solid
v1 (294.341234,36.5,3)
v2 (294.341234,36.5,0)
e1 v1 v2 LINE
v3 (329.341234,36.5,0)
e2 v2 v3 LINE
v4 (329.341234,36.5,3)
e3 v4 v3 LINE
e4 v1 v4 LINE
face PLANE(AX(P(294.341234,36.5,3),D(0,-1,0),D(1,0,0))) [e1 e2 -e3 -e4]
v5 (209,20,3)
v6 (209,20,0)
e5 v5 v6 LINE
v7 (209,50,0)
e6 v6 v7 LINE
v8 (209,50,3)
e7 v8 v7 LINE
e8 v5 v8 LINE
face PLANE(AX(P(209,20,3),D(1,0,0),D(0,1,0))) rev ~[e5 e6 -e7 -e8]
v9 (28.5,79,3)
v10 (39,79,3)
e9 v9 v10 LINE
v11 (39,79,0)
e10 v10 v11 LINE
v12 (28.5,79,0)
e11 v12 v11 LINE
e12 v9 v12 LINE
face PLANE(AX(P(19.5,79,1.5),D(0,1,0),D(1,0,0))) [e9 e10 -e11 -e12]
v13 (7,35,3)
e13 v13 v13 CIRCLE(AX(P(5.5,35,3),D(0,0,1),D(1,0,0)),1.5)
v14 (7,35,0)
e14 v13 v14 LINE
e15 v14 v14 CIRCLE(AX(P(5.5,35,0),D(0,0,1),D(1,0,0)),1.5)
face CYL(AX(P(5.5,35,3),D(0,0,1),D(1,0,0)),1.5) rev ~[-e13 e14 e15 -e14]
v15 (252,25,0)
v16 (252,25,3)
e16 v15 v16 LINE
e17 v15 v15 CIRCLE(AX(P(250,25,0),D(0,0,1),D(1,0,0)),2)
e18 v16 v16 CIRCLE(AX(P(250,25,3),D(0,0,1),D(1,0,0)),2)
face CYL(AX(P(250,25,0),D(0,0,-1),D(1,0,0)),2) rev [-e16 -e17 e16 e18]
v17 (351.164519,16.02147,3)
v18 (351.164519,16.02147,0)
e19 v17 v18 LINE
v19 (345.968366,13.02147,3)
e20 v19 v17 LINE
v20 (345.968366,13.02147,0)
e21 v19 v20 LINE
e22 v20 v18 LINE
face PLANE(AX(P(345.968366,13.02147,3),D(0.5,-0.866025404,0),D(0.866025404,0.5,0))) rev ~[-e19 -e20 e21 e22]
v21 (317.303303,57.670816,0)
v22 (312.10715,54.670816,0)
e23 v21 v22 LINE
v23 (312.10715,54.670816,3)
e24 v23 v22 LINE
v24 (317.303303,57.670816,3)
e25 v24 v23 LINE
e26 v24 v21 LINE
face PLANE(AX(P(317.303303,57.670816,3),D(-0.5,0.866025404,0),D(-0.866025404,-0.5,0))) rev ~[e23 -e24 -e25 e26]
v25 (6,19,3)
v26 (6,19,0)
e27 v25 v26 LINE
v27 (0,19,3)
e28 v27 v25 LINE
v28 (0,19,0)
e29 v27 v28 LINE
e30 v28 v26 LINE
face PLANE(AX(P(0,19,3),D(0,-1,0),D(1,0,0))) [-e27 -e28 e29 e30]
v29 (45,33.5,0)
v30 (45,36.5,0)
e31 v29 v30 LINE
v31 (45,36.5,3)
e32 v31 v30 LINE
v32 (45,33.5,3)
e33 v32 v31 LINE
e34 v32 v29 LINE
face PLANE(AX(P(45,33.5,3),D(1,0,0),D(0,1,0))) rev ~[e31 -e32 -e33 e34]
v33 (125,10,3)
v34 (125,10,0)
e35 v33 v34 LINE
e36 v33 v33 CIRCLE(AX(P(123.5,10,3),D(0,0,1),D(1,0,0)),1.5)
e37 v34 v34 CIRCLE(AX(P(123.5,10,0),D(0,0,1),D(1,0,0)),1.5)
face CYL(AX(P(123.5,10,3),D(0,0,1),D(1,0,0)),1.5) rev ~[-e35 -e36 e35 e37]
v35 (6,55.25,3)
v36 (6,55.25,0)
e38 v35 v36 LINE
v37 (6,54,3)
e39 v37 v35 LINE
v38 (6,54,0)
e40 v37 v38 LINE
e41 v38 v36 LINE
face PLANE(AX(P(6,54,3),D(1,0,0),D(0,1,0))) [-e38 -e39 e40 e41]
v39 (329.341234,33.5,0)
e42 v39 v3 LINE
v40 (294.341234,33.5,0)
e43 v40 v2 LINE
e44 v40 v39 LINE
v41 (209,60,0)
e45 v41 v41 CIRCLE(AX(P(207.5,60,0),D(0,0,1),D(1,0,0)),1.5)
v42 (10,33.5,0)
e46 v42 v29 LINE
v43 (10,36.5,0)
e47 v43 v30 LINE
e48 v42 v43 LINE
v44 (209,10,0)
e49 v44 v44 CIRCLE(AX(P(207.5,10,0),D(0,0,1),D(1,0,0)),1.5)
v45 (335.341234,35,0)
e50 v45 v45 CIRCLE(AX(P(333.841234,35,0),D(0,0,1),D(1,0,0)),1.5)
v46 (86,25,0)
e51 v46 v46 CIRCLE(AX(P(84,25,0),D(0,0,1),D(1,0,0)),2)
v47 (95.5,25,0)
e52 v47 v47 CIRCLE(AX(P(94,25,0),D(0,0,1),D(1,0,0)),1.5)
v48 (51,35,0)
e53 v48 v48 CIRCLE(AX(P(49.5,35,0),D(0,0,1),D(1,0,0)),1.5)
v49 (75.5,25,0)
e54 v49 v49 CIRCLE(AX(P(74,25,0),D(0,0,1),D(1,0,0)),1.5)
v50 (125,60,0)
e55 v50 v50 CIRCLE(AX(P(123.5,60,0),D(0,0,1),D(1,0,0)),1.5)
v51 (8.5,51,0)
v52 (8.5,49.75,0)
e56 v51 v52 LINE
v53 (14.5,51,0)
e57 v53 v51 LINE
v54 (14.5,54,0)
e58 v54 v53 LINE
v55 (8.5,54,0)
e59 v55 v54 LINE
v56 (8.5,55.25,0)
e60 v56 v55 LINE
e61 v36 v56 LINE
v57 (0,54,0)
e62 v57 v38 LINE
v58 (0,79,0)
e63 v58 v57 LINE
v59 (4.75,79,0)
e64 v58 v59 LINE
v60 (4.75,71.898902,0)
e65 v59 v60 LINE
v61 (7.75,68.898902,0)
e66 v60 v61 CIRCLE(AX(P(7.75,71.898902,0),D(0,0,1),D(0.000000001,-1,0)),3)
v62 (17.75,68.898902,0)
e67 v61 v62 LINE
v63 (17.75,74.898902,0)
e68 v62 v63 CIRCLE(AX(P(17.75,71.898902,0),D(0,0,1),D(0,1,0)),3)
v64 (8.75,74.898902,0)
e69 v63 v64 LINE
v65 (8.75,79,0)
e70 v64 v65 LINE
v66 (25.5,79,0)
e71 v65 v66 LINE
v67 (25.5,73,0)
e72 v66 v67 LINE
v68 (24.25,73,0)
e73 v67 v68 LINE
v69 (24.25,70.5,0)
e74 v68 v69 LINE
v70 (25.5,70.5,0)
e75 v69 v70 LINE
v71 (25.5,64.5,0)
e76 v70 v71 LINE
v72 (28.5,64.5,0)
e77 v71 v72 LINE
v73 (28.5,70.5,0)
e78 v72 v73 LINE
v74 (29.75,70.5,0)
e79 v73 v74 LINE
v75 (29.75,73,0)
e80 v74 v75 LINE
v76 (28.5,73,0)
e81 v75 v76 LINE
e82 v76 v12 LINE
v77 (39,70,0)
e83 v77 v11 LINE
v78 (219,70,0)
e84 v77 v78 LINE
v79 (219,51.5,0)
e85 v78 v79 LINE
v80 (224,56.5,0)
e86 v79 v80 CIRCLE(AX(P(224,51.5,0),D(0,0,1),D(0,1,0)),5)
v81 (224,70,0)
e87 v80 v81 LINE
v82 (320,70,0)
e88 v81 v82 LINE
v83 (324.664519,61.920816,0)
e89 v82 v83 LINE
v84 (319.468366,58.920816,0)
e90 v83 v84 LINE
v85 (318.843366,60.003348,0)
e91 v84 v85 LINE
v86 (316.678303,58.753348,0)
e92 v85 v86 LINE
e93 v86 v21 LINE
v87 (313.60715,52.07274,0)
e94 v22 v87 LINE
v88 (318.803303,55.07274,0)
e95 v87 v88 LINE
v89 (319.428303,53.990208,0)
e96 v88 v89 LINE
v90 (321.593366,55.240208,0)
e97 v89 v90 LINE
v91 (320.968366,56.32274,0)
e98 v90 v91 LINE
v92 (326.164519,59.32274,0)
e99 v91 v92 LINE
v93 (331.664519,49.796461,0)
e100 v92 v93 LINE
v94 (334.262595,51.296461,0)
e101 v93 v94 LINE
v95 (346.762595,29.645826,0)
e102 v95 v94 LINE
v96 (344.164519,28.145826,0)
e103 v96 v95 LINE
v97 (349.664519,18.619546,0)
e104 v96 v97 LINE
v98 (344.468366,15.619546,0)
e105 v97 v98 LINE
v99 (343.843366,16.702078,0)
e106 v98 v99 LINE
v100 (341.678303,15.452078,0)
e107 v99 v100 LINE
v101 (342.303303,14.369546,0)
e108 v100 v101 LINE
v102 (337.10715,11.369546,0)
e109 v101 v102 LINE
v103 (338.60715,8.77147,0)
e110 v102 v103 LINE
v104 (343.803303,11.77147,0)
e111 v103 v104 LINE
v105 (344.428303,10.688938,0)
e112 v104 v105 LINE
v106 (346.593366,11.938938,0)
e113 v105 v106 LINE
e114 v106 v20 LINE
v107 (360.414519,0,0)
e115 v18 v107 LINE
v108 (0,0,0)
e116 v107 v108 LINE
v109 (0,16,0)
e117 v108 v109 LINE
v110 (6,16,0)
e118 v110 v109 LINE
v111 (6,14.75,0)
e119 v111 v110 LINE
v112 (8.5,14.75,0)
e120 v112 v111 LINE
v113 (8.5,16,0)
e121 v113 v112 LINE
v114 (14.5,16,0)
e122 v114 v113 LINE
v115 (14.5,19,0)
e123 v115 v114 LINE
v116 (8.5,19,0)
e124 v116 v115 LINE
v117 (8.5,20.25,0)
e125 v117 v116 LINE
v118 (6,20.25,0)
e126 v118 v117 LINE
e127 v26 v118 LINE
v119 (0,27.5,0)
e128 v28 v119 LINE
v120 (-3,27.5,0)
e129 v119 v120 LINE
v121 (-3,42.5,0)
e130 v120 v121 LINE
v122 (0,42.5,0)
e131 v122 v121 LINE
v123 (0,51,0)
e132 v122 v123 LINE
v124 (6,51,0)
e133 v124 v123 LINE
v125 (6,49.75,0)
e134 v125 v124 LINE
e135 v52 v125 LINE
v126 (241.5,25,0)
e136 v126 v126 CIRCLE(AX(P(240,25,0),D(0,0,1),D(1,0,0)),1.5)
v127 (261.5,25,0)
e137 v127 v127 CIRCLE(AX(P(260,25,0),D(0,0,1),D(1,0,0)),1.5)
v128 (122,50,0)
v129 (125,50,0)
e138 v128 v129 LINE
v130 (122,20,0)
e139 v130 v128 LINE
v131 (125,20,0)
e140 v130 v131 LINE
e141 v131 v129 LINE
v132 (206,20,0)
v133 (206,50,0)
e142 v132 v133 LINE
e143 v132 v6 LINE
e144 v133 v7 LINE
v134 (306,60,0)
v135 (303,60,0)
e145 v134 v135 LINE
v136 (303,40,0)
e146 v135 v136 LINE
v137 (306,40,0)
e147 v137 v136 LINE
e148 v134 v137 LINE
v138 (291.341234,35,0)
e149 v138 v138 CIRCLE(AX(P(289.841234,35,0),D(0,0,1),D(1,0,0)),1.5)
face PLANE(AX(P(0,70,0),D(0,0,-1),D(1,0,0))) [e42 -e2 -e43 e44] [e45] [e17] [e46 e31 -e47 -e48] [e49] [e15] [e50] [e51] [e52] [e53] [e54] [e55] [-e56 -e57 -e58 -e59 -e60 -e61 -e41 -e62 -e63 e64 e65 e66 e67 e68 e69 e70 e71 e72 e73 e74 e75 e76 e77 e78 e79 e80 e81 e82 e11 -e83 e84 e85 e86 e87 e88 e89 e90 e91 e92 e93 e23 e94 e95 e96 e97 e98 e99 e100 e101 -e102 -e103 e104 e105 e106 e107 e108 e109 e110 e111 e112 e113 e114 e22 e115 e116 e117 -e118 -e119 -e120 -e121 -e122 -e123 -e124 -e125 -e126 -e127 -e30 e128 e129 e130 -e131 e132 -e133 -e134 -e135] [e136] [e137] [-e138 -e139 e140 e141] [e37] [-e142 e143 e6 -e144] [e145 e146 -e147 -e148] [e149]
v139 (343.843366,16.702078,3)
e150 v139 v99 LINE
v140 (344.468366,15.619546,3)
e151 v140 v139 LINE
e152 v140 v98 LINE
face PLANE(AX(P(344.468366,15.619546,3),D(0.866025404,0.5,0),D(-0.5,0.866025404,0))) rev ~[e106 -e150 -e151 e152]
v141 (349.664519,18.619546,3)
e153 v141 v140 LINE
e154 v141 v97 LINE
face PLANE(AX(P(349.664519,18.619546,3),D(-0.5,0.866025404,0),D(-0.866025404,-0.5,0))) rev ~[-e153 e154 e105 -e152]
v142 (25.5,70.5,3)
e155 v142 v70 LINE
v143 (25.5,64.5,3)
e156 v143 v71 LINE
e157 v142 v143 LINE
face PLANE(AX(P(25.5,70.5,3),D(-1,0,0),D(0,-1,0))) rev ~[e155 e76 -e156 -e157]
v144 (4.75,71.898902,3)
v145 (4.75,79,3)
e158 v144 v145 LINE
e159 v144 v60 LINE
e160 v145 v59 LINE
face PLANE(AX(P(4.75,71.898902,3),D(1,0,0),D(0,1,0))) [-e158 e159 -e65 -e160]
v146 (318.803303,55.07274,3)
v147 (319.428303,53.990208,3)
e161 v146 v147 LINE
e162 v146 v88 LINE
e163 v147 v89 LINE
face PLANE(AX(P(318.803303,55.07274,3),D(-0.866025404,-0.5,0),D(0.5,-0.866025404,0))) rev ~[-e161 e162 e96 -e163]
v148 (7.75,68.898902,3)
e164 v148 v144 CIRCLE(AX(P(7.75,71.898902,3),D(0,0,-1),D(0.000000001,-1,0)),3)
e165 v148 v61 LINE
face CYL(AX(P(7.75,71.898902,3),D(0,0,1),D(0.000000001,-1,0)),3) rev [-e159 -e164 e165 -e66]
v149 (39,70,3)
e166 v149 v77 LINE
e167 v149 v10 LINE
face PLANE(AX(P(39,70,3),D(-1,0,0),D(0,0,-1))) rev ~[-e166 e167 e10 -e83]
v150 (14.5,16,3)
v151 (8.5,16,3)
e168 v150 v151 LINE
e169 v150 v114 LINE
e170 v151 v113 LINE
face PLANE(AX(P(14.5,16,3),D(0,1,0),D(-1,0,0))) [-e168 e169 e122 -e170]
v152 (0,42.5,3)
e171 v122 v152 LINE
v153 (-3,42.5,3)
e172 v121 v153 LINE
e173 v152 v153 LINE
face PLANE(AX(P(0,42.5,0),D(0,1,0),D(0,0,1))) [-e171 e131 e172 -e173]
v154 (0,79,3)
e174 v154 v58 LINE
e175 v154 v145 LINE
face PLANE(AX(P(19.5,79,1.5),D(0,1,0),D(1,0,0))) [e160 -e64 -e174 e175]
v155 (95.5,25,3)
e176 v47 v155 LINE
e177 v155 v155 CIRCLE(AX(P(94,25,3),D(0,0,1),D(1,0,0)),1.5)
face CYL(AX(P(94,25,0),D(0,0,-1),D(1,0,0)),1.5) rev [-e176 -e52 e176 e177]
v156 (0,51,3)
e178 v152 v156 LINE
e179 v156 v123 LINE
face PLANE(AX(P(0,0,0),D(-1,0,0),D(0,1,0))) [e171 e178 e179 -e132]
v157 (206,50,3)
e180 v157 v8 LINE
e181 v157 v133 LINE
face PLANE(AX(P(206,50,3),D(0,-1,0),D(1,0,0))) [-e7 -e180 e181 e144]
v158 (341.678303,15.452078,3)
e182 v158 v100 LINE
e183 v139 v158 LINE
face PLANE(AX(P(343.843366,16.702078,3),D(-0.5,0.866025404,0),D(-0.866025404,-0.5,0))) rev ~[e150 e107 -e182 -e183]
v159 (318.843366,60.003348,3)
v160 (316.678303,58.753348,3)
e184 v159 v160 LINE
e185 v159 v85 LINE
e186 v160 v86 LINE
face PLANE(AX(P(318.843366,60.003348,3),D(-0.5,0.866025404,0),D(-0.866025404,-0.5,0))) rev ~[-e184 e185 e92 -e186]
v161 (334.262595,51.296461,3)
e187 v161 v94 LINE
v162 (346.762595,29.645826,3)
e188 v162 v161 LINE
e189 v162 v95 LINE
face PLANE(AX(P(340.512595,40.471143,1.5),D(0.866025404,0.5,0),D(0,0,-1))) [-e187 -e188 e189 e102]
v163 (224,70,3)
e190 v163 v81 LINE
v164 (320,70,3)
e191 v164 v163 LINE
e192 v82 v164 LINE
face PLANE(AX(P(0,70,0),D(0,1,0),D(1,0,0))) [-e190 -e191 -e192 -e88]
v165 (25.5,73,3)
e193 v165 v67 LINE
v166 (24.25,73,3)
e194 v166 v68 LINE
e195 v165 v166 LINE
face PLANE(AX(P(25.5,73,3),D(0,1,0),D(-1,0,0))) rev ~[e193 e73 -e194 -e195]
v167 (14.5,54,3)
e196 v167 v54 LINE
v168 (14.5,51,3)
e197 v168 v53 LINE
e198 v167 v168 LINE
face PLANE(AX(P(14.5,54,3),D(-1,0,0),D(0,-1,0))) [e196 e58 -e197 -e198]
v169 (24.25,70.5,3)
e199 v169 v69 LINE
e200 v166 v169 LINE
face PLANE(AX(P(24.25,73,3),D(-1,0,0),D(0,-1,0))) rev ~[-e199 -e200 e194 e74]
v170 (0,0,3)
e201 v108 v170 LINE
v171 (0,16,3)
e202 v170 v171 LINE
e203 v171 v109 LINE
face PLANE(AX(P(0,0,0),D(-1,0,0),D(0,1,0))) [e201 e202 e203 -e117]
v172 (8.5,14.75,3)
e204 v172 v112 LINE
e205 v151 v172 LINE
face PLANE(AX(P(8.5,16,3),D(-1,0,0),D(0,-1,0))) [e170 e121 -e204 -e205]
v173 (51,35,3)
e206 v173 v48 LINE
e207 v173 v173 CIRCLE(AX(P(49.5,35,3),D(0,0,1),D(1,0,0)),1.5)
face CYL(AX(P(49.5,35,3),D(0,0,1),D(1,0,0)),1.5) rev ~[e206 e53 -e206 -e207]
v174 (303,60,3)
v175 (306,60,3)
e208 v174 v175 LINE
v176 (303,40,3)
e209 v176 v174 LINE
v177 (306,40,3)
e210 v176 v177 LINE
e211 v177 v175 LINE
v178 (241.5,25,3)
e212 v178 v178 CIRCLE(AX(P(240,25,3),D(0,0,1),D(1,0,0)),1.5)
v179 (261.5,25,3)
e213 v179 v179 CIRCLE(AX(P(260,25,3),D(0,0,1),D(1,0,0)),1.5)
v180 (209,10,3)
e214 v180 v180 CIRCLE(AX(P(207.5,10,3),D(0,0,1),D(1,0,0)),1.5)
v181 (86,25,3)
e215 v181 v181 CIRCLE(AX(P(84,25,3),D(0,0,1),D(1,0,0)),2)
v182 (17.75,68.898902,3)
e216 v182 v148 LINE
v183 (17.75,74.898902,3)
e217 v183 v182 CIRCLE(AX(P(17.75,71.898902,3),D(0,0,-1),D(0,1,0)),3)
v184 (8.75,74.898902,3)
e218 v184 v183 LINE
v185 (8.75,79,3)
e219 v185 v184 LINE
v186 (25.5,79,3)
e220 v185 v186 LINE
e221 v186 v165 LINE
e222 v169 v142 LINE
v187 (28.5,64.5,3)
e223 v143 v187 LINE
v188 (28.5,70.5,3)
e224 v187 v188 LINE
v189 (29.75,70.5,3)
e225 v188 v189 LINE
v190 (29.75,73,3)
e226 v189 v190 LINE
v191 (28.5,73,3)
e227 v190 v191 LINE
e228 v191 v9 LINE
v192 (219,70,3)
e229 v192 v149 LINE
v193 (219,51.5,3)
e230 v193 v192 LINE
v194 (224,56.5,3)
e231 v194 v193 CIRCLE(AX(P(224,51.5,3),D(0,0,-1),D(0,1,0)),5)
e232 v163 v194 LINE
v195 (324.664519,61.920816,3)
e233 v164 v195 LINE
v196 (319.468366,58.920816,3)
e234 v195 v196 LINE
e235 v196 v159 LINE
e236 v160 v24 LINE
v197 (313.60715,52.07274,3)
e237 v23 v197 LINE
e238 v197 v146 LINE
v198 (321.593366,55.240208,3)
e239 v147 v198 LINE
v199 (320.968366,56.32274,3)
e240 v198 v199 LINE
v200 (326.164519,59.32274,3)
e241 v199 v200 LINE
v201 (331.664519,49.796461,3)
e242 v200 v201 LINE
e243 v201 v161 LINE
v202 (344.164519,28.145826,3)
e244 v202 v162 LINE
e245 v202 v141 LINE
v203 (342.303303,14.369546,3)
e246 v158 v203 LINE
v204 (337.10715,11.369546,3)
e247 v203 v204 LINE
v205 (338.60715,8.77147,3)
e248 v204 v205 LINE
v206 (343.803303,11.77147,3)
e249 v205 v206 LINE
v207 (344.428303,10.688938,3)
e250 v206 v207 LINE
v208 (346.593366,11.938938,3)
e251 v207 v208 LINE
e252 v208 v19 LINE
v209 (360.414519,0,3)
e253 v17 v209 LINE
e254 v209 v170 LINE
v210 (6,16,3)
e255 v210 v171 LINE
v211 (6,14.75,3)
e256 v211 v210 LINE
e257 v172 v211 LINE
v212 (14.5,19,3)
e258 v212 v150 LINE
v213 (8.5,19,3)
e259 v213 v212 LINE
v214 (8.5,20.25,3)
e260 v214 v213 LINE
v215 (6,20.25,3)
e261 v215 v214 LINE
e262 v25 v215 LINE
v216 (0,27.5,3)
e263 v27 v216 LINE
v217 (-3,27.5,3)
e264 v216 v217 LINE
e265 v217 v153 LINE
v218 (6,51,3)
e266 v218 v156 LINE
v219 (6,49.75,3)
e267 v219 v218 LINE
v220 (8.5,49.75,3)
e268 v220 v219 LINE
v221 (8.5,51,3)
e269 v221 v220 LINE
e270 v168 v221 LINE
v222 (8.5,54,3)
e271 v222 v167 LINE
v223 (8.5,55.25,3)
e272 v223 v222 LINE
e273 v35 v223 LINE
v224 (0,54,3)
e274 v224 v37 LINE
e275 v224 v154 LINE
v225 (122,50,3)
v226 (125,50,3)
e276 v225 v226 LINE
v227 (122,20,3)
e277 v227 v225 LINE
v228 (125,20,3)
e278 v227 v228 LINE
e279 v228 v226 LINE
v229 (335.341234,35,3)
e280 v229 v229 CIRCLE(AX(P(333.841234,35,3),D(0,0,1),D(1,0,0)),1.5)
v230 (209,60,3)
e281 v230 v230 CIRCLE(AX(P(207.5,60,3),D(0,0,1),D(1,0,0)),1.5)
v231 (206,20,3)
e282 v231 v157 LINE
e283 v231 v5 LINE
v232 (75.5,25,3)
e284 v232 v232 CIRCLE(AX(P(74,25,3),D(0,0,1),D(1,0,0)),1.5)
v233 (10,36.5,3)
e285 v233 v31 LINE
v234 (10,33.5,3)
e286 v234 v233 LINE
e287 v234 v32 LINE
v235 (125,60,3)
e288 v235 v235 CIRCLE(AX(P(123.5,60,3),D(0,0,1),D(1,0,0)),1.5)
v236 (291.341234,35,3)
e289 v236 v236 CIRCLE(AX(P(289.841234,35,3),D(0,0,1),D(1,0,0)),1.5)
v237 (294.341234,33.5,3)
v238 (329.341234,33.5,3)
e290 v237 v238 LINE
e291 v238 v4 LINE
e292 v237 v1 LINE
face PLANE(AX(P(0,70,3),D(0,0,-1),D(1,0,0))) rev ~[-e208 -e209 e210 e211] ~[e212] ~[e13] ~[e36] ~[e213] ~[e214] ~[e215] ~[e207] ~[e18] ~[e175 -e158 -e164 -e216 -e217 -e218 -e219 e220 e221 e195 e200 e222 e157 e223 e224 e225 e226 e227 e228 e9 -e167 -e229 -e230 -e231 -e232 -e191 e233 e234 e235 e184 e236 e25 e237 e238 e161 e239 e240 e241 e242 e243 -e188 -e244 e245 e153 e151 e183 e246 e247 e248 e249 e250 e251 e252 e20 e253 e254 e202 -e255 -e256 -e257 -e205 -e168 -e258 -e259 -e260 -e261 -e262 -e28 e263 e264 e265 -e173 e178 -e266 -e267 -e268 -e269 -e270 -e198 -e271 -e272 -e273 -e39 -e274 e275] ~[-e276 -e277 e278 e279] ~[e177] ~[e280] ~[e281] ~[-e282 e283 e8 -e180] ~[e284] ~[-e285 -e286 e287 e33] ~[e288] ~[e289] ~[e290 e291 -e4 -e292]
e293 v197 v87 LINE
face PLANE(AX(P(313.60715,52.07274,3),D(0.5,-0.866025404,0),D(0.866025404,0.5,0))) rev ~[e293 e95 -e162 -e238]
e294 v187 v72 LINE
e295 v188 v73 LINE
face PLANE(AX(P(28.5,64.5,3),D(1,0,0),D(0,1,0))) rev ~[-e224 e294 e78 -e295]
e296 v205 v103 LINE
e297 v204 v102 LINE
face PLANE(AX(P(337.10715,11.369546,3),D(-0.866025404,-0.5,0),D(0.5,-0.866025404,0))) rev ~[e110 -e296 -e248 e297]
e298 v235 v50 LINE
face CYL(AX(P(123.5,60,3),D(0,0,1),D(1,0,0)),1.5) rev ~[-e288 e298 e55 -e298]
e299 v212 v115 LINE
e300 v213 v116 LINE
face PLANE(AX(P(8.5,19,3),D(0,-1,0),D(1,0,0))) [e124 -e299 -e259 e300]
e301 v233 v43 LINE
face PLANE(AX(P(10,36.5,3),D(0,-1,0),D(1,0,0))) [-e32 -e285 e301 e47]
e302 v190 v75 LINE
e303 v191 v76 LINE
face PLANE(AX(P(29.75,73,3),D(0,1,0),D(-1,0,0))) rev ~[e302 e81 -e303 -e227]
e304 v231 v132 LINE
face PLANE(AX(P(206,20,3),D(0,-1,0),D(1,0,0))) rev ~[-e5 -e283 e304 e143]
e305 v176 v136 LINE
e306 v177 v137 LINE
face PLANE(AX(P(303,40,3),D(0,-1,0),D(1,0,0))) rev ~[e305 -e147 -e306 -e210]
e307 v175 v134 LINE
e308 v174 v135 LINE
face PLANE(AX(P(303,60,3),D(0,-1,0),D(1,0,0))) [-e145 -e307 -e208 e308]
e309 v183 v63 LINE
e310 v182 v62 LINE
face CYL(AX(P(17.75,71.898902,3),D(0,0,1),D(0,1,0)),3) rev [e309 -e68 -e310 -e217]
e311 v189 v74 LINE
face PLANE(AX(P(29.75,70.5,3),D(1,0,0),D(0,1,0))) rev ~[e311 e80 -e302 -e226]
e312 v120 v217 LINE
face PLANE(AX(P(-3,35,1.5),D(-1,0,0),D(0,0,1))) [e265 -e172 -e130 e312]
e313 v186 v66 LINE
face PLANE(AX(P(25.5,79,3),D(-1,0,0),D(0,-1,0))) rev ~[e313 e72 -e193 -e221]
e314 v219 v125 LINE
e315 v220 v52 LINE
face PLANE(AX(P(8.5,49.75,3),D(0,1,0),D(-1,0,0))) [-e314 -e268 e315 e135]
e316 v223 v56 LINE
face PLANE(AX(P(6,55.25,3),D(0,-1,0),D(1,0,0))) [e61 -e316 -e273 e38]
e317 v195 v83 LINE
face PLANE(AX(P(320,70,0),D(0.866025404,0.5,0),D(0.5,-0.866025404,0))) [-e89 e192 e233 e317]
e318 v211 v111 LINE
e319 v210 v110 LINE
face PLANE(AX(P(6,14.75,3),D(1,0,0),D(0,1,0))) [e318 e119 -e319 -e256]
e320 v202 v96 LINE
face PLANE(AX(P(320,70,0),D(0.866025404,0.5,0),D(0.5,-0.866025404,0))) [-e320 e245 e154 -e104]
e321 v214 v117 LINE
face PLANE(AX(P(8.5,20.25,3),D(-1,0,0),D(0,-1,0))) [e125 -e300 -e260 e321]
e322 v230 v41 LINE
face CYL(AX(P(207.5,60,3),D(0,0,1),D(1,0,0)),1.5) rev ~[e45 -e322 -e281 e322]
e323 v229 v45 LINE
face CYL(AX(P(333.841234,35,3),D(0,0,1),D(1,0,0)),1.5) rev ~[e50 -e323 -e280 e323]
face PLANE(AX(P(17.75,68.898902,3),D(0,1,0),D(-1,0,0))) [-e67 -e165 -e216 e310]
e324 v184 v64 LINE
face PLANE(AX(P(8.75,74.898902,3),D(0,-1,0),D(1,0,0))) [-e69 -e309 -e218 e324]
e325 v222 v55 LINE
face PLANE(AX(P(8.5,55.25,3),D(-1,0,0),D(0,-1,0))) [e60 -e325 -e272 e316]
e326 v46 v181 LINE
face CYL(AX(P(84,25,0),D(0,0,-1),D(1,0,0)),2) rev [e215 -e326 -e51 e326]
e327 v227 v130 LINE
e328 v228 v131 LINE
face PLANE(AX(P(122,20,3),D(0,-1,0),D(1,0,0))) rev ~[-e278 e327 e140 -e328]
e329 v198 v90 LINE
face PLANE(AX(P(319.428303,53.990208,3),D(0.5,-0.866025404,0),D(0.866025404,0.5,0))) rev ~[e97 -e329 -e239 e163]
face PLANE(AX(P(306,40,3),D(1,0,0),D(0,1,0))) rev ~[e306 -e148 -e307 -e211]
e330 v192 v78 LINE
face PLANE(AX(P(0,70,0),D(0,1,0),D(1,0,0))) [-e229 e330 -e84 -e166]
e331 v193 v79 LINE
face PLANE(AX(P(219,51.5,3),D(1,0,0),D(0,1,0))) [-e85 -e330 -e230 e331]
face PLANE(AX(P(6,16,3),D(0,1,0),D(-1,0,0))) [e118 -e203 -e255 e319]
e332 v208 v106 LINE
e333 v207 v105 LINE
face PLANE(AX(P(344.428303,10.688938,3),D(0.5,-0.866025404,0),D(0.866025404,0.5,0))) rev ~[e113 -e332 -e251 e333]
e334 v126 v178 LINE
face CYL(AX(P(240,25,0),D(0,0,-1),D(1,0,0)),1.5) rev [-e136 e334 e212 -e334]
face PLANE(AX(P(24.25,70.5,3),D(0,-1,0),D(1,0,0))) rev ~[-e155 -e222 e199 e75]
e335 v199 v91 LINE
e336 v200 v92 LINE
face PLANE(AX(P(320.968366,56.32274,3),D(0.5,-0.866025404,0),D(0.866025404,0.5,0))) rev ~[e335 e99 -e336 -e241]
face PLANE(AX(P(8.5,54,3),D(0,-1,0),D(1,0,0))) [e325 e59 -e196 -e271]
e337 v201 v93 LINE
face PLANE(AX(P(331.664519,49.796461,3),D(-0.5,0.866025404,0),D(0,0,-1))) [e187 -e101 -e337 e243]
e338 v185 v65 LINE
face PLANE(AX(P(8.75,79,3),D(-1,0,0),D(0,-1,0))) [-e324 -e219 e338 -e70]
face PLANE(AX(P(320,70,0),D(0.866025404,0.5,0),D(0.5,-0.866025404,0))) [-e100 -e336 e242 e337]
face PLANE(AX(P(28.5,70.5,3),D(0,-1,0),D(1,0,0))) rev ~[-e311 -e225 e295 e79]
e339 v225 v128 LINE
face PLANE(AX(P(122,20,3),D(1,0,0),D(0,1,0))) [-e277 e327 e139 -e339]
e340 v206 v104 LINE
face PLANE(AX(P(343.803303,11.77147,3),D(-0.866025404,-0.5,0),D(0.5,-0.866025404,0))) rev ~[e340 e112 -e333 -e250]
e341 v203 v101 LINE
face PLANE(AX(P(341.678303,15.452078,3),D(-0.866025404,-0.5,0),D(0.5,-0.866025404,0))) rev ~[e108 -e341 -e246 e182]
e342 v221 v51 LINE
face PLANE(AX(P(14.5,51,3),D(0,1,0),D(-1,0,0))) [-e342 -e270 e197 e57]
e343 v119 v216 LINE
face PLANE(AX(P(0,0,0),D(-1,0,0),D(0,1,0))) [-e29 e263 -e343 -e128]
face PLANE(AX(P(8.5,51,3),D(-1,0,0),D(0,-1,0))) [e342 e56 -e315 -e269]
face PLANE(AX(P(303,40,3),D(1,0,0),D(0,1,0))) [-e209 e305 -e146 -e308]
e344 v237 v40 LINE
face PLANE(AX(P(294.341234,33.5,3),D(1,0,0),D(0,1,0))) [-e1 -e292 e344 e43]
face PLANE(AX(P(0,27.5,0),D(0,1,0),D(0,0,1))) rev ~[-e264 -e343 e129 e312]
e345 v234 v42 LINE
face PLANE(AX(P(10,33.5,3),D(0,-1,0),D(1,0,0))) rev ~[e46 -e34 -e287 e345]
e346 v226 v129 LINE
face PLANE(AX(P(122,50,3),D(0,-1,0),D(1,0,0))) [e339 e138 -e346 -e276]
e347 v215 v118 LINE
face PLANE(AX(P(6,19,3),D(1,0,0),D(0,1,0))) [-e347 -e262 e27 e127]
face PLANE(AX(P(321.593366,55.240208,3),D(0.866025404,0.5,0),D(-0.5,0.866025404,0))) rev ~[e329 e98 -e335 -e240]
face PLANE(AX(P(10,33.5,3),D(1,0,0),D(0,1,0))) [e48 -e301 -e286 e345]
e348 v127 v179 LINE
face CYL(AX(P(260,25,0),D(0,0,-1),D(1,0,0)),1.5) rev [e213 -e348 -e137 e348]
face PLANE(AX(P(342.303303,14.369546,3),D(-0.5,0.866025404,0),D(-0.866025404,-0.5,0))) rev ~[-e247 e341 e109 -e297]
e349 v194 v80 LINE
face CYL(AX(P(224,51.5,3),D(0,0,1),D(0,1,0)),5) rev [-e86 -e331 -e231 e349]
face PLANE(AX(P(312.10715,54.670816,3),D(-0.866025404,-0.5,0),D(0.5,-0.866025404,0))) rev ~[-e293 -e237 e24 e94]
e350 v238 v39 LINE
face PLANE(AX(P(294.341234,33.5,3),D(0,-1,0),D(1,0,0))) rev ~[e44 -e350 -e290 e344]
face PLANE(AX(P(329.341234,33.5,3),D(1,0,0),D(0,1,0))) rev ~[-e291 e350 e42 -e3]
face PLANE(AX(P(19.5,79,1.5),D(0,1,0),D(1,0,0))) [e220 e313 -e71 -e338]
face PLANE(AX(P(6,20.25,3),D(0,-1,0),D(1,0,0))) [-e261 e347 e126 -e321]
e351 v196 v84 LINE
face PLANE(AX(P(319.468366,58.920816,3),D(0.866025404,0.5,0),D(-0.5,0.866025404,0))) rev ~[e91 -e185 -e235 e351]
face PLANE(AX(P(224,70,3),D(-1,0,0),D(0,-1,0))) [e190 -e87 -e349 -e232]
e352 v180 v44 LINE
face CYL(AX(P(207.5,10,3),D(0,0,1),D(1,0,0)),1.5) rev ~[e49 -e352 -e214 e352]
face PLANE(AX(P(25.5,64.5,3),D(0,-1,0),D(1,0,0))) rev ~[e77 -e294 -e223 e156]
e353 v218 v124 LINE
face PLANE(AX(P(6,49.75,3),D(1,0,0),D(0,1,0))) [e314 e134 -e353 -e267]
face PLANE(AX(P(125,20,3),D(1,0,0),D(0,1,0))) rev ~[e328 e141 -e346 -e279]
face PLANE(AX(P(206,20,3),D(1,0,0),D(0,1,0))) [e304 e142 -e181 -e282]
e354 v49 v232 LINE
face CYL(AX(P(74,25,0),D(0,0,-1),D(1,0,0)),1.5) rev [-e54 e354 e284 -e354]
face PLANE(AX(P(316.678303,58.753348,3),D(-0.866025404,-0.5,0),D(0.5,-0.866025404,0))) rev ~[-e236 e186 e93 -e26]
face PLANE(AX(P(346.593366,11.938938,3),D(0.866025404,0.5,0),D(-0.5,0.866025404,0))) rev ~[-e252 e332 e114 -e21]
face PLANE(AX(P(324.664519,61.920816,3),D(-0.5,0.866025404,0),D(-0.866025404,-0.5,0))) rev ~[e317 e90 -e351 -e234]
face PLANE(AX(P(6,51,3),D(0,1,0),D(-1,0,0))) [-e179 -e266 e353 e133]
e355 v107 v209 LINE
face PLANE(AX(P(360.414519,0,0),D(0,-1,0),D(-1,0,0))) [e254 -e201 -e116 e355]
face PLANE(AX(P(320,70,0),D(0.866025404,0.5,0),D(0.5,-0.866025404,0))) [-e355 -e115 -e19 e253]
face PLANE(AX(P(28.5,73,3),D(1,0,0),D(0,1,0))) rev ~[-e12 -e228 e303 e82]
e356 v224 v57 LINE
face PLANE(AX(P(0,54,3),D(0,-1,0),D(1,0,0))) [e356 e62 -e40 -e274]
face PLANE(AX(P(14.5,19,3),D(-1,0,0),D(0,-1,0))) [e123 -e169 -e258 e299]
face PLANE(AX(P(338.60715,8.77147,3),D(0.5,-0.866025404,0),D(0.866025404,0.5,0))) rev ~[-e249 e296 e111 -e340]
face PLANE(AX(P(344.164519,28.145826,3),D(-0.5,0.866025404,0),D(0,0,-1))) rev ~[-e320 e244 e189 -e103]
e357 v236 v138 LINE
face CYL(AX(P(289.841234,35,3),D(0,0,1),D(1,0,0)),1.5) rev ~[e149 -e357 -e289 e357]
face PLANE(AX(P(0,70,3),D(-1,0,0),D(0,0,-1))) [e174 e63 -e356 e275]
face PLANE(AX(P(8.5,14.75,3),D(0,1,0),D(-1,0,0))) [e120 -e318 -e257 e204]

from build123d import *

# Parameters (mm, degrees)
SKETCH_1_R             = 2
SKETCH_1_R_2           = 1.5
EXTRUDE_1_DEPTH        = 3
SKETCH_2_W             = 19
SKETCH_2_H             = 3
EXTRUDE_2_DEPTH        = 3
PATTERN_LINEAR_1_COUNT = 9
PATTERN_LINEAR_1_PITCH = 28
SKETCH_3_W             = 3
SKETCH_3_H             = 30
CUT_EXTRUDE_1_DEPTH    = 3
SKETCH_4_W             = 35
SKETCH_4_H             = 3
CUT_EXTRUDE_2_DEPTH    = 3
SKETCH_5_R             = 1.5
CUT_EXTRUDE_3_DEPTH    = 3
CUT_EXTRUDE_4_DEPTH    = 3
CUT_EXTRUDE_5_DEPTH    = 3
SKETCH_8_W             = 39
SKETCH_8_H             = 3
EXTRUDE_3_DEPTH        = 9
SKETCH_11_W            = 3
SKETCH_11_H            = 25
EXTRUDE_5_DEPTH        = 3
SKETCH_12_W            = 3
SKETCH_12_H            = 15
EXTRUDE_6_DEPTH        = 3
SKETCH_13_W            = 243
SKETCH_13_H            = 3
CUT_EXTRUDE_7_DEPTH    = 3
SKETCH_14_W            = 3
SKETCH_14_H            = 20
CUT_EXTRUDE_8_DEPTH    = 10
CUT_EXTRUDE_9_DEPTH    = 3
CUT_EXTRUDE_10_DEPTH   = 10
CUT_EXTRUDE_11_DEPTH   = 10


with BuildPart() as part:
    # Эскиз1 → Бобышка-Вытянуть1 (new body)
    with BuildSketch(Plane.XY):
        Polygon((320, 70), (360.414518843, 0), (0, 0), (0, 70), align=None)
        with Locations((84, 25)):
            Circle(SKETCH_1_R, mode=Mode.SUBTRACT)
        with Locations((250, 25)):
            Circle(SKETCH_1_R, mode=Mode.SUBTRACT)
        with Locations((94, 25)):
            Circle(SKETCH_1_R_2, mode=Mode.SUBTRACT)
        with Locations((74, 25)):
            Circle(SKETCH_1_R_2, mode=Mode.SUBTRACT)
        with Locations((240, 25)):
            Circle(SKETCH_1_R_2, mode=Mode.SUBTRACT)
        with Locations((260, 25)):
            Circle(SKETCH_1_R_2, mode=Mode.SUBTRACT)
    extrude(amount=EXTRUDE_1_DEPTH)

    # Эскиз2 → Бобышка-Вытянуть2 (add)
    with BuildSketch(Plane(origin=(0, 70, 0), x_dir=(1, 0, 0), z_dir=(0, 1, 0))):
        with Locations((291.5, -1.5)):
            Rectangle(SKETCH_2_W, SKETCH_2_H)
    extrude_2 = extrude(amount=EXTRUDE_2_DEPTH)

    # Линейный массив1: Бобышка-Вытянуть2 ×9
    with Locations(*[(-i * PATTERN_LINEAR_1_PITCH, 0, 0) for i in range(1, PATTERN_LINEAR_1_COUNT)]):
        add(extrude_2)

    # Эскиз3 → Вырез-Вытянуть1 (cut)
    with BuildSketch(Plane.XY.offset(3)):
        with Locations((207.5, 35)):
            Rectangle(SKETCH_3_W, SKETCH_3_H)
        with Locations((123.5, 35)):
            Rectangle(SKETCH_3_W, SKETCH_3_H)
    extrude(amount=-CUT_EXTRUDE_1_DEPTH, mode=Mode.SUBTRACT)

    # Эскиз4 → Вырез-Вытянуть2 (cut)
    with BuildSketch(Plane.XY.offset(3)):
        with Locations((311.841234018, 35)):
            Rectangle(SKETCH_4_W, SKETCH_4_H)
        with Locations((27.5, 35)):
            Rectangle(SKETCH_4_W, SKETCH_4_H)
    extrude(amount=-CUT_EXTRUDE_2_DEPTH, mode=Mode.SUBTRACT)

    # Эскиз5 → Вырез-Вытянуть3 (cut)
    with BuildSketch(Plane.XY.offset(3)):
        with Locations((5.5, 35)):
            Circle(SKETCH_5_R)
        with Locations((49.5, 35)):
            Circle(SKETCH_5_R)
        with Locations((123.5, 60)):
            Circle(SKETCH_5_R)
        with Locations((123.5, 10)):
            Circle(SKETCH_5_R)
        with Locations((207.5, 60)):
            Circle(SKETCH_5_R)
        with Locations((207.5, 10)):
            Circle(SKETCH_5_R)
        with Locations((289.841234018, 35)):
            Circle(SKETCH_5_R)
        with Locations((333.841234018, 35)):
            Circle(SKETCH_5_R)
    extrude(amount=-CUT_EXTRUDE_3_DEPTH, mode=Mode.SUBTRACT)

    # Эскиз6 → Вырез-Вытянуть4 (cut)
    with BuildSketch(Plane.XY.offset(3)):
        Polygon((0, 54), (6, 54), (6, 55.25), (8.5, 55.25), (8.5, 54), (14.5, 54), (14.5, 51), (8.5, 51), (8.5, 49.75), (6, 49.75), (6, 51), (0, 51), align=None)
        Polygon((0, 19), (6, 19), (6, 20.25), (8.5, 20.25), (8.5, 19), (14.5, 19), (14.5, 16), (8.5, 16), (8.5, 14.75), (6, 14.75), (6, 16), (0, 16), align=None)
    extrude(amount=-CUT_EXTRUDE_4_DEPTH, mode=Mode.SUBTRACT)

    # Эскиз7 → Вырез-Вытянуть5 (cut)
    with BuildSketch(Plane.XY.offset(3)):
        Polygon((324.664518843, 61.920816371), (319.468366421, 58.920816371), (318.843366421, 60.003348125), (316.678302911, 58.753348125), (317.303302911, 57.670816371), (312.107150488, 54.670816371), (313.607150488, 52.072740159), (318.803302911, 55.072740159), (319.428302911, 53.990208405), (321.593366421, 55.240208405), (320.968366421, 56.322740159), (326.164518843, 59.322740159), align=None)
        Polygon((349.664518843, 18.619546181), (344.468366421, 15.619546181), (343.843366421, 16.702077936), (341.678302911, 15.452077936), (342.303302911, 14.369546181), (337.107150488, 11.369546181), (338.607150488, 8.77146997), (343.803302911, 11.77146997), (344.428302911, 10.688938215), (346.593366421, 11.938938215), (345.968366421, 13.02146997), (351.164518843, 16.02146997), align=None)
    extrude(amount=-CUT_EXTRUDE_5_DEPTH, mode=Mode.SUBTRACT)

    # Эскиз8 → Бобышка-Вытянуть3 (add)
    with BuildSketch(Plane(origin=(0, 70, 0), x_dir=(1, 0, 0), z_dir=(0, 1, 0))):
        with Locations((19.5, -1.5)):
            Rectangle(SKETCH_8_W, SKETCH_8_H)
    extrude(amount=EXTRUDE_3_DEPTH)

    # Эскиз11 → Бобышка-Вытянуть5 (add)
    with BuildSketch(Plane(origin=(270.310889132, 156.064064606, 0), x_dir=(0, 0, -1), z_dir=(0.8660254037844416, 0.4999999999999949, 0))):
        with Locations((-1.5, -135.207259422)):
            Rectangle(SKETCH_11_W, SKETCH_11_H)
    extrude(amount=EXTRUDE_5_DEPTH)

    # Эскиз12 → Бобышка-Вытянуть6 (add)
    with BuildSketch(Plane.ZY):
        with Locations((1.5, 35)):
            Rectangle(SKETCH_12_W, SKETCH_12_H)
    extrude(amount=EXTRUDE_6_DEPTH)

    # Эскиз13 → Вырез-Вытянуть7 (cut)
    with BuildSketch(Plane.XY.offset(3)):
        with Locations((179.5, 71.5)):
            Rectangle(SKETCH_13_W, SKETCH_13_H)
    extrude(amount=-CUT_EXTRUDE_7_DEPTH, mode=Mode.SUBTRACT)

    # Эскиз14 → Вырез-Вытянуть8 (cut)
    with BuildSketch(Plane.XY.offset(3)):
        with Locations((304.5, 50)):
            Rectangle(SKETCH_14_W, SKETCH_14_H)
    extrude(amount=-CUT_EXTRUDE_8_DEPTH, mode=Mode.SUBTRACT)

    # Эскиз15 → Вырез-Вытянуть9 (cut)
    with BuildSketch(Plane.XY.offset(3)):
        Polygon((25.5, 79), (25.5, 73), (24.25, 73), (24.25, 70.5), (25.5, 70.5), (25.5, 64.5), (28.5, 64.5), (28.5, 70.5), (29.75, 70.5), (29.75, 73), (28.5, 73), (28.5, 79), align=None)
    extrude(amount=-CUT_EXTRUDE_9_DEPTH, mode=Mode.SUBTRACT)

    # Эскиз16 → Вырез-Вытянуть10 (cut)
    with BuildSketch(Plane.XY.offset(3)):
        with BuildLine():
            Line((8.75, 74.898901738), (17.75, 74.898901738))
            ThreePointArc((17.75, 74.898901738), (20.75, 71.898901738), (17.75, 68.898901738))
            Line((17.75, 68.898901738), (7.75, 68.898901738))
            ThreePointArc((7.75, 68.898901738), (5.628679656, 69.777581394), (4.75, 71.898901738))
            Line((4.75, 71.898901738), (4.75, 79))
            Line((4.75, 79), (8.75, 79))
            Line((8.75, 79), (8.75, 74.898901738))
        make_face()
    extrude(amount=-CUT_EXTRUDE_10_DEPTH, mode=Mode.SUBTRACT)

    # Эскиз17 → Вырез-Вытянуть11 (cut)
    with BuildSketch(Plane.XY.offset(3)):
        with BuildLine():
            Line((219, 51.5), (219, 70))
            Line((219, 70), (224, 70))
            Line((224, 70), (224, 56.5))
            ThreePointArc((224, 56.5), (227.535533906, 47.964466094), (219, 51.5))
        make_face()
    extrude(amount=-CUT_EXTRUDE_11_DEPTH, mode=Mode.SUBTRACT)


solid = part.part
